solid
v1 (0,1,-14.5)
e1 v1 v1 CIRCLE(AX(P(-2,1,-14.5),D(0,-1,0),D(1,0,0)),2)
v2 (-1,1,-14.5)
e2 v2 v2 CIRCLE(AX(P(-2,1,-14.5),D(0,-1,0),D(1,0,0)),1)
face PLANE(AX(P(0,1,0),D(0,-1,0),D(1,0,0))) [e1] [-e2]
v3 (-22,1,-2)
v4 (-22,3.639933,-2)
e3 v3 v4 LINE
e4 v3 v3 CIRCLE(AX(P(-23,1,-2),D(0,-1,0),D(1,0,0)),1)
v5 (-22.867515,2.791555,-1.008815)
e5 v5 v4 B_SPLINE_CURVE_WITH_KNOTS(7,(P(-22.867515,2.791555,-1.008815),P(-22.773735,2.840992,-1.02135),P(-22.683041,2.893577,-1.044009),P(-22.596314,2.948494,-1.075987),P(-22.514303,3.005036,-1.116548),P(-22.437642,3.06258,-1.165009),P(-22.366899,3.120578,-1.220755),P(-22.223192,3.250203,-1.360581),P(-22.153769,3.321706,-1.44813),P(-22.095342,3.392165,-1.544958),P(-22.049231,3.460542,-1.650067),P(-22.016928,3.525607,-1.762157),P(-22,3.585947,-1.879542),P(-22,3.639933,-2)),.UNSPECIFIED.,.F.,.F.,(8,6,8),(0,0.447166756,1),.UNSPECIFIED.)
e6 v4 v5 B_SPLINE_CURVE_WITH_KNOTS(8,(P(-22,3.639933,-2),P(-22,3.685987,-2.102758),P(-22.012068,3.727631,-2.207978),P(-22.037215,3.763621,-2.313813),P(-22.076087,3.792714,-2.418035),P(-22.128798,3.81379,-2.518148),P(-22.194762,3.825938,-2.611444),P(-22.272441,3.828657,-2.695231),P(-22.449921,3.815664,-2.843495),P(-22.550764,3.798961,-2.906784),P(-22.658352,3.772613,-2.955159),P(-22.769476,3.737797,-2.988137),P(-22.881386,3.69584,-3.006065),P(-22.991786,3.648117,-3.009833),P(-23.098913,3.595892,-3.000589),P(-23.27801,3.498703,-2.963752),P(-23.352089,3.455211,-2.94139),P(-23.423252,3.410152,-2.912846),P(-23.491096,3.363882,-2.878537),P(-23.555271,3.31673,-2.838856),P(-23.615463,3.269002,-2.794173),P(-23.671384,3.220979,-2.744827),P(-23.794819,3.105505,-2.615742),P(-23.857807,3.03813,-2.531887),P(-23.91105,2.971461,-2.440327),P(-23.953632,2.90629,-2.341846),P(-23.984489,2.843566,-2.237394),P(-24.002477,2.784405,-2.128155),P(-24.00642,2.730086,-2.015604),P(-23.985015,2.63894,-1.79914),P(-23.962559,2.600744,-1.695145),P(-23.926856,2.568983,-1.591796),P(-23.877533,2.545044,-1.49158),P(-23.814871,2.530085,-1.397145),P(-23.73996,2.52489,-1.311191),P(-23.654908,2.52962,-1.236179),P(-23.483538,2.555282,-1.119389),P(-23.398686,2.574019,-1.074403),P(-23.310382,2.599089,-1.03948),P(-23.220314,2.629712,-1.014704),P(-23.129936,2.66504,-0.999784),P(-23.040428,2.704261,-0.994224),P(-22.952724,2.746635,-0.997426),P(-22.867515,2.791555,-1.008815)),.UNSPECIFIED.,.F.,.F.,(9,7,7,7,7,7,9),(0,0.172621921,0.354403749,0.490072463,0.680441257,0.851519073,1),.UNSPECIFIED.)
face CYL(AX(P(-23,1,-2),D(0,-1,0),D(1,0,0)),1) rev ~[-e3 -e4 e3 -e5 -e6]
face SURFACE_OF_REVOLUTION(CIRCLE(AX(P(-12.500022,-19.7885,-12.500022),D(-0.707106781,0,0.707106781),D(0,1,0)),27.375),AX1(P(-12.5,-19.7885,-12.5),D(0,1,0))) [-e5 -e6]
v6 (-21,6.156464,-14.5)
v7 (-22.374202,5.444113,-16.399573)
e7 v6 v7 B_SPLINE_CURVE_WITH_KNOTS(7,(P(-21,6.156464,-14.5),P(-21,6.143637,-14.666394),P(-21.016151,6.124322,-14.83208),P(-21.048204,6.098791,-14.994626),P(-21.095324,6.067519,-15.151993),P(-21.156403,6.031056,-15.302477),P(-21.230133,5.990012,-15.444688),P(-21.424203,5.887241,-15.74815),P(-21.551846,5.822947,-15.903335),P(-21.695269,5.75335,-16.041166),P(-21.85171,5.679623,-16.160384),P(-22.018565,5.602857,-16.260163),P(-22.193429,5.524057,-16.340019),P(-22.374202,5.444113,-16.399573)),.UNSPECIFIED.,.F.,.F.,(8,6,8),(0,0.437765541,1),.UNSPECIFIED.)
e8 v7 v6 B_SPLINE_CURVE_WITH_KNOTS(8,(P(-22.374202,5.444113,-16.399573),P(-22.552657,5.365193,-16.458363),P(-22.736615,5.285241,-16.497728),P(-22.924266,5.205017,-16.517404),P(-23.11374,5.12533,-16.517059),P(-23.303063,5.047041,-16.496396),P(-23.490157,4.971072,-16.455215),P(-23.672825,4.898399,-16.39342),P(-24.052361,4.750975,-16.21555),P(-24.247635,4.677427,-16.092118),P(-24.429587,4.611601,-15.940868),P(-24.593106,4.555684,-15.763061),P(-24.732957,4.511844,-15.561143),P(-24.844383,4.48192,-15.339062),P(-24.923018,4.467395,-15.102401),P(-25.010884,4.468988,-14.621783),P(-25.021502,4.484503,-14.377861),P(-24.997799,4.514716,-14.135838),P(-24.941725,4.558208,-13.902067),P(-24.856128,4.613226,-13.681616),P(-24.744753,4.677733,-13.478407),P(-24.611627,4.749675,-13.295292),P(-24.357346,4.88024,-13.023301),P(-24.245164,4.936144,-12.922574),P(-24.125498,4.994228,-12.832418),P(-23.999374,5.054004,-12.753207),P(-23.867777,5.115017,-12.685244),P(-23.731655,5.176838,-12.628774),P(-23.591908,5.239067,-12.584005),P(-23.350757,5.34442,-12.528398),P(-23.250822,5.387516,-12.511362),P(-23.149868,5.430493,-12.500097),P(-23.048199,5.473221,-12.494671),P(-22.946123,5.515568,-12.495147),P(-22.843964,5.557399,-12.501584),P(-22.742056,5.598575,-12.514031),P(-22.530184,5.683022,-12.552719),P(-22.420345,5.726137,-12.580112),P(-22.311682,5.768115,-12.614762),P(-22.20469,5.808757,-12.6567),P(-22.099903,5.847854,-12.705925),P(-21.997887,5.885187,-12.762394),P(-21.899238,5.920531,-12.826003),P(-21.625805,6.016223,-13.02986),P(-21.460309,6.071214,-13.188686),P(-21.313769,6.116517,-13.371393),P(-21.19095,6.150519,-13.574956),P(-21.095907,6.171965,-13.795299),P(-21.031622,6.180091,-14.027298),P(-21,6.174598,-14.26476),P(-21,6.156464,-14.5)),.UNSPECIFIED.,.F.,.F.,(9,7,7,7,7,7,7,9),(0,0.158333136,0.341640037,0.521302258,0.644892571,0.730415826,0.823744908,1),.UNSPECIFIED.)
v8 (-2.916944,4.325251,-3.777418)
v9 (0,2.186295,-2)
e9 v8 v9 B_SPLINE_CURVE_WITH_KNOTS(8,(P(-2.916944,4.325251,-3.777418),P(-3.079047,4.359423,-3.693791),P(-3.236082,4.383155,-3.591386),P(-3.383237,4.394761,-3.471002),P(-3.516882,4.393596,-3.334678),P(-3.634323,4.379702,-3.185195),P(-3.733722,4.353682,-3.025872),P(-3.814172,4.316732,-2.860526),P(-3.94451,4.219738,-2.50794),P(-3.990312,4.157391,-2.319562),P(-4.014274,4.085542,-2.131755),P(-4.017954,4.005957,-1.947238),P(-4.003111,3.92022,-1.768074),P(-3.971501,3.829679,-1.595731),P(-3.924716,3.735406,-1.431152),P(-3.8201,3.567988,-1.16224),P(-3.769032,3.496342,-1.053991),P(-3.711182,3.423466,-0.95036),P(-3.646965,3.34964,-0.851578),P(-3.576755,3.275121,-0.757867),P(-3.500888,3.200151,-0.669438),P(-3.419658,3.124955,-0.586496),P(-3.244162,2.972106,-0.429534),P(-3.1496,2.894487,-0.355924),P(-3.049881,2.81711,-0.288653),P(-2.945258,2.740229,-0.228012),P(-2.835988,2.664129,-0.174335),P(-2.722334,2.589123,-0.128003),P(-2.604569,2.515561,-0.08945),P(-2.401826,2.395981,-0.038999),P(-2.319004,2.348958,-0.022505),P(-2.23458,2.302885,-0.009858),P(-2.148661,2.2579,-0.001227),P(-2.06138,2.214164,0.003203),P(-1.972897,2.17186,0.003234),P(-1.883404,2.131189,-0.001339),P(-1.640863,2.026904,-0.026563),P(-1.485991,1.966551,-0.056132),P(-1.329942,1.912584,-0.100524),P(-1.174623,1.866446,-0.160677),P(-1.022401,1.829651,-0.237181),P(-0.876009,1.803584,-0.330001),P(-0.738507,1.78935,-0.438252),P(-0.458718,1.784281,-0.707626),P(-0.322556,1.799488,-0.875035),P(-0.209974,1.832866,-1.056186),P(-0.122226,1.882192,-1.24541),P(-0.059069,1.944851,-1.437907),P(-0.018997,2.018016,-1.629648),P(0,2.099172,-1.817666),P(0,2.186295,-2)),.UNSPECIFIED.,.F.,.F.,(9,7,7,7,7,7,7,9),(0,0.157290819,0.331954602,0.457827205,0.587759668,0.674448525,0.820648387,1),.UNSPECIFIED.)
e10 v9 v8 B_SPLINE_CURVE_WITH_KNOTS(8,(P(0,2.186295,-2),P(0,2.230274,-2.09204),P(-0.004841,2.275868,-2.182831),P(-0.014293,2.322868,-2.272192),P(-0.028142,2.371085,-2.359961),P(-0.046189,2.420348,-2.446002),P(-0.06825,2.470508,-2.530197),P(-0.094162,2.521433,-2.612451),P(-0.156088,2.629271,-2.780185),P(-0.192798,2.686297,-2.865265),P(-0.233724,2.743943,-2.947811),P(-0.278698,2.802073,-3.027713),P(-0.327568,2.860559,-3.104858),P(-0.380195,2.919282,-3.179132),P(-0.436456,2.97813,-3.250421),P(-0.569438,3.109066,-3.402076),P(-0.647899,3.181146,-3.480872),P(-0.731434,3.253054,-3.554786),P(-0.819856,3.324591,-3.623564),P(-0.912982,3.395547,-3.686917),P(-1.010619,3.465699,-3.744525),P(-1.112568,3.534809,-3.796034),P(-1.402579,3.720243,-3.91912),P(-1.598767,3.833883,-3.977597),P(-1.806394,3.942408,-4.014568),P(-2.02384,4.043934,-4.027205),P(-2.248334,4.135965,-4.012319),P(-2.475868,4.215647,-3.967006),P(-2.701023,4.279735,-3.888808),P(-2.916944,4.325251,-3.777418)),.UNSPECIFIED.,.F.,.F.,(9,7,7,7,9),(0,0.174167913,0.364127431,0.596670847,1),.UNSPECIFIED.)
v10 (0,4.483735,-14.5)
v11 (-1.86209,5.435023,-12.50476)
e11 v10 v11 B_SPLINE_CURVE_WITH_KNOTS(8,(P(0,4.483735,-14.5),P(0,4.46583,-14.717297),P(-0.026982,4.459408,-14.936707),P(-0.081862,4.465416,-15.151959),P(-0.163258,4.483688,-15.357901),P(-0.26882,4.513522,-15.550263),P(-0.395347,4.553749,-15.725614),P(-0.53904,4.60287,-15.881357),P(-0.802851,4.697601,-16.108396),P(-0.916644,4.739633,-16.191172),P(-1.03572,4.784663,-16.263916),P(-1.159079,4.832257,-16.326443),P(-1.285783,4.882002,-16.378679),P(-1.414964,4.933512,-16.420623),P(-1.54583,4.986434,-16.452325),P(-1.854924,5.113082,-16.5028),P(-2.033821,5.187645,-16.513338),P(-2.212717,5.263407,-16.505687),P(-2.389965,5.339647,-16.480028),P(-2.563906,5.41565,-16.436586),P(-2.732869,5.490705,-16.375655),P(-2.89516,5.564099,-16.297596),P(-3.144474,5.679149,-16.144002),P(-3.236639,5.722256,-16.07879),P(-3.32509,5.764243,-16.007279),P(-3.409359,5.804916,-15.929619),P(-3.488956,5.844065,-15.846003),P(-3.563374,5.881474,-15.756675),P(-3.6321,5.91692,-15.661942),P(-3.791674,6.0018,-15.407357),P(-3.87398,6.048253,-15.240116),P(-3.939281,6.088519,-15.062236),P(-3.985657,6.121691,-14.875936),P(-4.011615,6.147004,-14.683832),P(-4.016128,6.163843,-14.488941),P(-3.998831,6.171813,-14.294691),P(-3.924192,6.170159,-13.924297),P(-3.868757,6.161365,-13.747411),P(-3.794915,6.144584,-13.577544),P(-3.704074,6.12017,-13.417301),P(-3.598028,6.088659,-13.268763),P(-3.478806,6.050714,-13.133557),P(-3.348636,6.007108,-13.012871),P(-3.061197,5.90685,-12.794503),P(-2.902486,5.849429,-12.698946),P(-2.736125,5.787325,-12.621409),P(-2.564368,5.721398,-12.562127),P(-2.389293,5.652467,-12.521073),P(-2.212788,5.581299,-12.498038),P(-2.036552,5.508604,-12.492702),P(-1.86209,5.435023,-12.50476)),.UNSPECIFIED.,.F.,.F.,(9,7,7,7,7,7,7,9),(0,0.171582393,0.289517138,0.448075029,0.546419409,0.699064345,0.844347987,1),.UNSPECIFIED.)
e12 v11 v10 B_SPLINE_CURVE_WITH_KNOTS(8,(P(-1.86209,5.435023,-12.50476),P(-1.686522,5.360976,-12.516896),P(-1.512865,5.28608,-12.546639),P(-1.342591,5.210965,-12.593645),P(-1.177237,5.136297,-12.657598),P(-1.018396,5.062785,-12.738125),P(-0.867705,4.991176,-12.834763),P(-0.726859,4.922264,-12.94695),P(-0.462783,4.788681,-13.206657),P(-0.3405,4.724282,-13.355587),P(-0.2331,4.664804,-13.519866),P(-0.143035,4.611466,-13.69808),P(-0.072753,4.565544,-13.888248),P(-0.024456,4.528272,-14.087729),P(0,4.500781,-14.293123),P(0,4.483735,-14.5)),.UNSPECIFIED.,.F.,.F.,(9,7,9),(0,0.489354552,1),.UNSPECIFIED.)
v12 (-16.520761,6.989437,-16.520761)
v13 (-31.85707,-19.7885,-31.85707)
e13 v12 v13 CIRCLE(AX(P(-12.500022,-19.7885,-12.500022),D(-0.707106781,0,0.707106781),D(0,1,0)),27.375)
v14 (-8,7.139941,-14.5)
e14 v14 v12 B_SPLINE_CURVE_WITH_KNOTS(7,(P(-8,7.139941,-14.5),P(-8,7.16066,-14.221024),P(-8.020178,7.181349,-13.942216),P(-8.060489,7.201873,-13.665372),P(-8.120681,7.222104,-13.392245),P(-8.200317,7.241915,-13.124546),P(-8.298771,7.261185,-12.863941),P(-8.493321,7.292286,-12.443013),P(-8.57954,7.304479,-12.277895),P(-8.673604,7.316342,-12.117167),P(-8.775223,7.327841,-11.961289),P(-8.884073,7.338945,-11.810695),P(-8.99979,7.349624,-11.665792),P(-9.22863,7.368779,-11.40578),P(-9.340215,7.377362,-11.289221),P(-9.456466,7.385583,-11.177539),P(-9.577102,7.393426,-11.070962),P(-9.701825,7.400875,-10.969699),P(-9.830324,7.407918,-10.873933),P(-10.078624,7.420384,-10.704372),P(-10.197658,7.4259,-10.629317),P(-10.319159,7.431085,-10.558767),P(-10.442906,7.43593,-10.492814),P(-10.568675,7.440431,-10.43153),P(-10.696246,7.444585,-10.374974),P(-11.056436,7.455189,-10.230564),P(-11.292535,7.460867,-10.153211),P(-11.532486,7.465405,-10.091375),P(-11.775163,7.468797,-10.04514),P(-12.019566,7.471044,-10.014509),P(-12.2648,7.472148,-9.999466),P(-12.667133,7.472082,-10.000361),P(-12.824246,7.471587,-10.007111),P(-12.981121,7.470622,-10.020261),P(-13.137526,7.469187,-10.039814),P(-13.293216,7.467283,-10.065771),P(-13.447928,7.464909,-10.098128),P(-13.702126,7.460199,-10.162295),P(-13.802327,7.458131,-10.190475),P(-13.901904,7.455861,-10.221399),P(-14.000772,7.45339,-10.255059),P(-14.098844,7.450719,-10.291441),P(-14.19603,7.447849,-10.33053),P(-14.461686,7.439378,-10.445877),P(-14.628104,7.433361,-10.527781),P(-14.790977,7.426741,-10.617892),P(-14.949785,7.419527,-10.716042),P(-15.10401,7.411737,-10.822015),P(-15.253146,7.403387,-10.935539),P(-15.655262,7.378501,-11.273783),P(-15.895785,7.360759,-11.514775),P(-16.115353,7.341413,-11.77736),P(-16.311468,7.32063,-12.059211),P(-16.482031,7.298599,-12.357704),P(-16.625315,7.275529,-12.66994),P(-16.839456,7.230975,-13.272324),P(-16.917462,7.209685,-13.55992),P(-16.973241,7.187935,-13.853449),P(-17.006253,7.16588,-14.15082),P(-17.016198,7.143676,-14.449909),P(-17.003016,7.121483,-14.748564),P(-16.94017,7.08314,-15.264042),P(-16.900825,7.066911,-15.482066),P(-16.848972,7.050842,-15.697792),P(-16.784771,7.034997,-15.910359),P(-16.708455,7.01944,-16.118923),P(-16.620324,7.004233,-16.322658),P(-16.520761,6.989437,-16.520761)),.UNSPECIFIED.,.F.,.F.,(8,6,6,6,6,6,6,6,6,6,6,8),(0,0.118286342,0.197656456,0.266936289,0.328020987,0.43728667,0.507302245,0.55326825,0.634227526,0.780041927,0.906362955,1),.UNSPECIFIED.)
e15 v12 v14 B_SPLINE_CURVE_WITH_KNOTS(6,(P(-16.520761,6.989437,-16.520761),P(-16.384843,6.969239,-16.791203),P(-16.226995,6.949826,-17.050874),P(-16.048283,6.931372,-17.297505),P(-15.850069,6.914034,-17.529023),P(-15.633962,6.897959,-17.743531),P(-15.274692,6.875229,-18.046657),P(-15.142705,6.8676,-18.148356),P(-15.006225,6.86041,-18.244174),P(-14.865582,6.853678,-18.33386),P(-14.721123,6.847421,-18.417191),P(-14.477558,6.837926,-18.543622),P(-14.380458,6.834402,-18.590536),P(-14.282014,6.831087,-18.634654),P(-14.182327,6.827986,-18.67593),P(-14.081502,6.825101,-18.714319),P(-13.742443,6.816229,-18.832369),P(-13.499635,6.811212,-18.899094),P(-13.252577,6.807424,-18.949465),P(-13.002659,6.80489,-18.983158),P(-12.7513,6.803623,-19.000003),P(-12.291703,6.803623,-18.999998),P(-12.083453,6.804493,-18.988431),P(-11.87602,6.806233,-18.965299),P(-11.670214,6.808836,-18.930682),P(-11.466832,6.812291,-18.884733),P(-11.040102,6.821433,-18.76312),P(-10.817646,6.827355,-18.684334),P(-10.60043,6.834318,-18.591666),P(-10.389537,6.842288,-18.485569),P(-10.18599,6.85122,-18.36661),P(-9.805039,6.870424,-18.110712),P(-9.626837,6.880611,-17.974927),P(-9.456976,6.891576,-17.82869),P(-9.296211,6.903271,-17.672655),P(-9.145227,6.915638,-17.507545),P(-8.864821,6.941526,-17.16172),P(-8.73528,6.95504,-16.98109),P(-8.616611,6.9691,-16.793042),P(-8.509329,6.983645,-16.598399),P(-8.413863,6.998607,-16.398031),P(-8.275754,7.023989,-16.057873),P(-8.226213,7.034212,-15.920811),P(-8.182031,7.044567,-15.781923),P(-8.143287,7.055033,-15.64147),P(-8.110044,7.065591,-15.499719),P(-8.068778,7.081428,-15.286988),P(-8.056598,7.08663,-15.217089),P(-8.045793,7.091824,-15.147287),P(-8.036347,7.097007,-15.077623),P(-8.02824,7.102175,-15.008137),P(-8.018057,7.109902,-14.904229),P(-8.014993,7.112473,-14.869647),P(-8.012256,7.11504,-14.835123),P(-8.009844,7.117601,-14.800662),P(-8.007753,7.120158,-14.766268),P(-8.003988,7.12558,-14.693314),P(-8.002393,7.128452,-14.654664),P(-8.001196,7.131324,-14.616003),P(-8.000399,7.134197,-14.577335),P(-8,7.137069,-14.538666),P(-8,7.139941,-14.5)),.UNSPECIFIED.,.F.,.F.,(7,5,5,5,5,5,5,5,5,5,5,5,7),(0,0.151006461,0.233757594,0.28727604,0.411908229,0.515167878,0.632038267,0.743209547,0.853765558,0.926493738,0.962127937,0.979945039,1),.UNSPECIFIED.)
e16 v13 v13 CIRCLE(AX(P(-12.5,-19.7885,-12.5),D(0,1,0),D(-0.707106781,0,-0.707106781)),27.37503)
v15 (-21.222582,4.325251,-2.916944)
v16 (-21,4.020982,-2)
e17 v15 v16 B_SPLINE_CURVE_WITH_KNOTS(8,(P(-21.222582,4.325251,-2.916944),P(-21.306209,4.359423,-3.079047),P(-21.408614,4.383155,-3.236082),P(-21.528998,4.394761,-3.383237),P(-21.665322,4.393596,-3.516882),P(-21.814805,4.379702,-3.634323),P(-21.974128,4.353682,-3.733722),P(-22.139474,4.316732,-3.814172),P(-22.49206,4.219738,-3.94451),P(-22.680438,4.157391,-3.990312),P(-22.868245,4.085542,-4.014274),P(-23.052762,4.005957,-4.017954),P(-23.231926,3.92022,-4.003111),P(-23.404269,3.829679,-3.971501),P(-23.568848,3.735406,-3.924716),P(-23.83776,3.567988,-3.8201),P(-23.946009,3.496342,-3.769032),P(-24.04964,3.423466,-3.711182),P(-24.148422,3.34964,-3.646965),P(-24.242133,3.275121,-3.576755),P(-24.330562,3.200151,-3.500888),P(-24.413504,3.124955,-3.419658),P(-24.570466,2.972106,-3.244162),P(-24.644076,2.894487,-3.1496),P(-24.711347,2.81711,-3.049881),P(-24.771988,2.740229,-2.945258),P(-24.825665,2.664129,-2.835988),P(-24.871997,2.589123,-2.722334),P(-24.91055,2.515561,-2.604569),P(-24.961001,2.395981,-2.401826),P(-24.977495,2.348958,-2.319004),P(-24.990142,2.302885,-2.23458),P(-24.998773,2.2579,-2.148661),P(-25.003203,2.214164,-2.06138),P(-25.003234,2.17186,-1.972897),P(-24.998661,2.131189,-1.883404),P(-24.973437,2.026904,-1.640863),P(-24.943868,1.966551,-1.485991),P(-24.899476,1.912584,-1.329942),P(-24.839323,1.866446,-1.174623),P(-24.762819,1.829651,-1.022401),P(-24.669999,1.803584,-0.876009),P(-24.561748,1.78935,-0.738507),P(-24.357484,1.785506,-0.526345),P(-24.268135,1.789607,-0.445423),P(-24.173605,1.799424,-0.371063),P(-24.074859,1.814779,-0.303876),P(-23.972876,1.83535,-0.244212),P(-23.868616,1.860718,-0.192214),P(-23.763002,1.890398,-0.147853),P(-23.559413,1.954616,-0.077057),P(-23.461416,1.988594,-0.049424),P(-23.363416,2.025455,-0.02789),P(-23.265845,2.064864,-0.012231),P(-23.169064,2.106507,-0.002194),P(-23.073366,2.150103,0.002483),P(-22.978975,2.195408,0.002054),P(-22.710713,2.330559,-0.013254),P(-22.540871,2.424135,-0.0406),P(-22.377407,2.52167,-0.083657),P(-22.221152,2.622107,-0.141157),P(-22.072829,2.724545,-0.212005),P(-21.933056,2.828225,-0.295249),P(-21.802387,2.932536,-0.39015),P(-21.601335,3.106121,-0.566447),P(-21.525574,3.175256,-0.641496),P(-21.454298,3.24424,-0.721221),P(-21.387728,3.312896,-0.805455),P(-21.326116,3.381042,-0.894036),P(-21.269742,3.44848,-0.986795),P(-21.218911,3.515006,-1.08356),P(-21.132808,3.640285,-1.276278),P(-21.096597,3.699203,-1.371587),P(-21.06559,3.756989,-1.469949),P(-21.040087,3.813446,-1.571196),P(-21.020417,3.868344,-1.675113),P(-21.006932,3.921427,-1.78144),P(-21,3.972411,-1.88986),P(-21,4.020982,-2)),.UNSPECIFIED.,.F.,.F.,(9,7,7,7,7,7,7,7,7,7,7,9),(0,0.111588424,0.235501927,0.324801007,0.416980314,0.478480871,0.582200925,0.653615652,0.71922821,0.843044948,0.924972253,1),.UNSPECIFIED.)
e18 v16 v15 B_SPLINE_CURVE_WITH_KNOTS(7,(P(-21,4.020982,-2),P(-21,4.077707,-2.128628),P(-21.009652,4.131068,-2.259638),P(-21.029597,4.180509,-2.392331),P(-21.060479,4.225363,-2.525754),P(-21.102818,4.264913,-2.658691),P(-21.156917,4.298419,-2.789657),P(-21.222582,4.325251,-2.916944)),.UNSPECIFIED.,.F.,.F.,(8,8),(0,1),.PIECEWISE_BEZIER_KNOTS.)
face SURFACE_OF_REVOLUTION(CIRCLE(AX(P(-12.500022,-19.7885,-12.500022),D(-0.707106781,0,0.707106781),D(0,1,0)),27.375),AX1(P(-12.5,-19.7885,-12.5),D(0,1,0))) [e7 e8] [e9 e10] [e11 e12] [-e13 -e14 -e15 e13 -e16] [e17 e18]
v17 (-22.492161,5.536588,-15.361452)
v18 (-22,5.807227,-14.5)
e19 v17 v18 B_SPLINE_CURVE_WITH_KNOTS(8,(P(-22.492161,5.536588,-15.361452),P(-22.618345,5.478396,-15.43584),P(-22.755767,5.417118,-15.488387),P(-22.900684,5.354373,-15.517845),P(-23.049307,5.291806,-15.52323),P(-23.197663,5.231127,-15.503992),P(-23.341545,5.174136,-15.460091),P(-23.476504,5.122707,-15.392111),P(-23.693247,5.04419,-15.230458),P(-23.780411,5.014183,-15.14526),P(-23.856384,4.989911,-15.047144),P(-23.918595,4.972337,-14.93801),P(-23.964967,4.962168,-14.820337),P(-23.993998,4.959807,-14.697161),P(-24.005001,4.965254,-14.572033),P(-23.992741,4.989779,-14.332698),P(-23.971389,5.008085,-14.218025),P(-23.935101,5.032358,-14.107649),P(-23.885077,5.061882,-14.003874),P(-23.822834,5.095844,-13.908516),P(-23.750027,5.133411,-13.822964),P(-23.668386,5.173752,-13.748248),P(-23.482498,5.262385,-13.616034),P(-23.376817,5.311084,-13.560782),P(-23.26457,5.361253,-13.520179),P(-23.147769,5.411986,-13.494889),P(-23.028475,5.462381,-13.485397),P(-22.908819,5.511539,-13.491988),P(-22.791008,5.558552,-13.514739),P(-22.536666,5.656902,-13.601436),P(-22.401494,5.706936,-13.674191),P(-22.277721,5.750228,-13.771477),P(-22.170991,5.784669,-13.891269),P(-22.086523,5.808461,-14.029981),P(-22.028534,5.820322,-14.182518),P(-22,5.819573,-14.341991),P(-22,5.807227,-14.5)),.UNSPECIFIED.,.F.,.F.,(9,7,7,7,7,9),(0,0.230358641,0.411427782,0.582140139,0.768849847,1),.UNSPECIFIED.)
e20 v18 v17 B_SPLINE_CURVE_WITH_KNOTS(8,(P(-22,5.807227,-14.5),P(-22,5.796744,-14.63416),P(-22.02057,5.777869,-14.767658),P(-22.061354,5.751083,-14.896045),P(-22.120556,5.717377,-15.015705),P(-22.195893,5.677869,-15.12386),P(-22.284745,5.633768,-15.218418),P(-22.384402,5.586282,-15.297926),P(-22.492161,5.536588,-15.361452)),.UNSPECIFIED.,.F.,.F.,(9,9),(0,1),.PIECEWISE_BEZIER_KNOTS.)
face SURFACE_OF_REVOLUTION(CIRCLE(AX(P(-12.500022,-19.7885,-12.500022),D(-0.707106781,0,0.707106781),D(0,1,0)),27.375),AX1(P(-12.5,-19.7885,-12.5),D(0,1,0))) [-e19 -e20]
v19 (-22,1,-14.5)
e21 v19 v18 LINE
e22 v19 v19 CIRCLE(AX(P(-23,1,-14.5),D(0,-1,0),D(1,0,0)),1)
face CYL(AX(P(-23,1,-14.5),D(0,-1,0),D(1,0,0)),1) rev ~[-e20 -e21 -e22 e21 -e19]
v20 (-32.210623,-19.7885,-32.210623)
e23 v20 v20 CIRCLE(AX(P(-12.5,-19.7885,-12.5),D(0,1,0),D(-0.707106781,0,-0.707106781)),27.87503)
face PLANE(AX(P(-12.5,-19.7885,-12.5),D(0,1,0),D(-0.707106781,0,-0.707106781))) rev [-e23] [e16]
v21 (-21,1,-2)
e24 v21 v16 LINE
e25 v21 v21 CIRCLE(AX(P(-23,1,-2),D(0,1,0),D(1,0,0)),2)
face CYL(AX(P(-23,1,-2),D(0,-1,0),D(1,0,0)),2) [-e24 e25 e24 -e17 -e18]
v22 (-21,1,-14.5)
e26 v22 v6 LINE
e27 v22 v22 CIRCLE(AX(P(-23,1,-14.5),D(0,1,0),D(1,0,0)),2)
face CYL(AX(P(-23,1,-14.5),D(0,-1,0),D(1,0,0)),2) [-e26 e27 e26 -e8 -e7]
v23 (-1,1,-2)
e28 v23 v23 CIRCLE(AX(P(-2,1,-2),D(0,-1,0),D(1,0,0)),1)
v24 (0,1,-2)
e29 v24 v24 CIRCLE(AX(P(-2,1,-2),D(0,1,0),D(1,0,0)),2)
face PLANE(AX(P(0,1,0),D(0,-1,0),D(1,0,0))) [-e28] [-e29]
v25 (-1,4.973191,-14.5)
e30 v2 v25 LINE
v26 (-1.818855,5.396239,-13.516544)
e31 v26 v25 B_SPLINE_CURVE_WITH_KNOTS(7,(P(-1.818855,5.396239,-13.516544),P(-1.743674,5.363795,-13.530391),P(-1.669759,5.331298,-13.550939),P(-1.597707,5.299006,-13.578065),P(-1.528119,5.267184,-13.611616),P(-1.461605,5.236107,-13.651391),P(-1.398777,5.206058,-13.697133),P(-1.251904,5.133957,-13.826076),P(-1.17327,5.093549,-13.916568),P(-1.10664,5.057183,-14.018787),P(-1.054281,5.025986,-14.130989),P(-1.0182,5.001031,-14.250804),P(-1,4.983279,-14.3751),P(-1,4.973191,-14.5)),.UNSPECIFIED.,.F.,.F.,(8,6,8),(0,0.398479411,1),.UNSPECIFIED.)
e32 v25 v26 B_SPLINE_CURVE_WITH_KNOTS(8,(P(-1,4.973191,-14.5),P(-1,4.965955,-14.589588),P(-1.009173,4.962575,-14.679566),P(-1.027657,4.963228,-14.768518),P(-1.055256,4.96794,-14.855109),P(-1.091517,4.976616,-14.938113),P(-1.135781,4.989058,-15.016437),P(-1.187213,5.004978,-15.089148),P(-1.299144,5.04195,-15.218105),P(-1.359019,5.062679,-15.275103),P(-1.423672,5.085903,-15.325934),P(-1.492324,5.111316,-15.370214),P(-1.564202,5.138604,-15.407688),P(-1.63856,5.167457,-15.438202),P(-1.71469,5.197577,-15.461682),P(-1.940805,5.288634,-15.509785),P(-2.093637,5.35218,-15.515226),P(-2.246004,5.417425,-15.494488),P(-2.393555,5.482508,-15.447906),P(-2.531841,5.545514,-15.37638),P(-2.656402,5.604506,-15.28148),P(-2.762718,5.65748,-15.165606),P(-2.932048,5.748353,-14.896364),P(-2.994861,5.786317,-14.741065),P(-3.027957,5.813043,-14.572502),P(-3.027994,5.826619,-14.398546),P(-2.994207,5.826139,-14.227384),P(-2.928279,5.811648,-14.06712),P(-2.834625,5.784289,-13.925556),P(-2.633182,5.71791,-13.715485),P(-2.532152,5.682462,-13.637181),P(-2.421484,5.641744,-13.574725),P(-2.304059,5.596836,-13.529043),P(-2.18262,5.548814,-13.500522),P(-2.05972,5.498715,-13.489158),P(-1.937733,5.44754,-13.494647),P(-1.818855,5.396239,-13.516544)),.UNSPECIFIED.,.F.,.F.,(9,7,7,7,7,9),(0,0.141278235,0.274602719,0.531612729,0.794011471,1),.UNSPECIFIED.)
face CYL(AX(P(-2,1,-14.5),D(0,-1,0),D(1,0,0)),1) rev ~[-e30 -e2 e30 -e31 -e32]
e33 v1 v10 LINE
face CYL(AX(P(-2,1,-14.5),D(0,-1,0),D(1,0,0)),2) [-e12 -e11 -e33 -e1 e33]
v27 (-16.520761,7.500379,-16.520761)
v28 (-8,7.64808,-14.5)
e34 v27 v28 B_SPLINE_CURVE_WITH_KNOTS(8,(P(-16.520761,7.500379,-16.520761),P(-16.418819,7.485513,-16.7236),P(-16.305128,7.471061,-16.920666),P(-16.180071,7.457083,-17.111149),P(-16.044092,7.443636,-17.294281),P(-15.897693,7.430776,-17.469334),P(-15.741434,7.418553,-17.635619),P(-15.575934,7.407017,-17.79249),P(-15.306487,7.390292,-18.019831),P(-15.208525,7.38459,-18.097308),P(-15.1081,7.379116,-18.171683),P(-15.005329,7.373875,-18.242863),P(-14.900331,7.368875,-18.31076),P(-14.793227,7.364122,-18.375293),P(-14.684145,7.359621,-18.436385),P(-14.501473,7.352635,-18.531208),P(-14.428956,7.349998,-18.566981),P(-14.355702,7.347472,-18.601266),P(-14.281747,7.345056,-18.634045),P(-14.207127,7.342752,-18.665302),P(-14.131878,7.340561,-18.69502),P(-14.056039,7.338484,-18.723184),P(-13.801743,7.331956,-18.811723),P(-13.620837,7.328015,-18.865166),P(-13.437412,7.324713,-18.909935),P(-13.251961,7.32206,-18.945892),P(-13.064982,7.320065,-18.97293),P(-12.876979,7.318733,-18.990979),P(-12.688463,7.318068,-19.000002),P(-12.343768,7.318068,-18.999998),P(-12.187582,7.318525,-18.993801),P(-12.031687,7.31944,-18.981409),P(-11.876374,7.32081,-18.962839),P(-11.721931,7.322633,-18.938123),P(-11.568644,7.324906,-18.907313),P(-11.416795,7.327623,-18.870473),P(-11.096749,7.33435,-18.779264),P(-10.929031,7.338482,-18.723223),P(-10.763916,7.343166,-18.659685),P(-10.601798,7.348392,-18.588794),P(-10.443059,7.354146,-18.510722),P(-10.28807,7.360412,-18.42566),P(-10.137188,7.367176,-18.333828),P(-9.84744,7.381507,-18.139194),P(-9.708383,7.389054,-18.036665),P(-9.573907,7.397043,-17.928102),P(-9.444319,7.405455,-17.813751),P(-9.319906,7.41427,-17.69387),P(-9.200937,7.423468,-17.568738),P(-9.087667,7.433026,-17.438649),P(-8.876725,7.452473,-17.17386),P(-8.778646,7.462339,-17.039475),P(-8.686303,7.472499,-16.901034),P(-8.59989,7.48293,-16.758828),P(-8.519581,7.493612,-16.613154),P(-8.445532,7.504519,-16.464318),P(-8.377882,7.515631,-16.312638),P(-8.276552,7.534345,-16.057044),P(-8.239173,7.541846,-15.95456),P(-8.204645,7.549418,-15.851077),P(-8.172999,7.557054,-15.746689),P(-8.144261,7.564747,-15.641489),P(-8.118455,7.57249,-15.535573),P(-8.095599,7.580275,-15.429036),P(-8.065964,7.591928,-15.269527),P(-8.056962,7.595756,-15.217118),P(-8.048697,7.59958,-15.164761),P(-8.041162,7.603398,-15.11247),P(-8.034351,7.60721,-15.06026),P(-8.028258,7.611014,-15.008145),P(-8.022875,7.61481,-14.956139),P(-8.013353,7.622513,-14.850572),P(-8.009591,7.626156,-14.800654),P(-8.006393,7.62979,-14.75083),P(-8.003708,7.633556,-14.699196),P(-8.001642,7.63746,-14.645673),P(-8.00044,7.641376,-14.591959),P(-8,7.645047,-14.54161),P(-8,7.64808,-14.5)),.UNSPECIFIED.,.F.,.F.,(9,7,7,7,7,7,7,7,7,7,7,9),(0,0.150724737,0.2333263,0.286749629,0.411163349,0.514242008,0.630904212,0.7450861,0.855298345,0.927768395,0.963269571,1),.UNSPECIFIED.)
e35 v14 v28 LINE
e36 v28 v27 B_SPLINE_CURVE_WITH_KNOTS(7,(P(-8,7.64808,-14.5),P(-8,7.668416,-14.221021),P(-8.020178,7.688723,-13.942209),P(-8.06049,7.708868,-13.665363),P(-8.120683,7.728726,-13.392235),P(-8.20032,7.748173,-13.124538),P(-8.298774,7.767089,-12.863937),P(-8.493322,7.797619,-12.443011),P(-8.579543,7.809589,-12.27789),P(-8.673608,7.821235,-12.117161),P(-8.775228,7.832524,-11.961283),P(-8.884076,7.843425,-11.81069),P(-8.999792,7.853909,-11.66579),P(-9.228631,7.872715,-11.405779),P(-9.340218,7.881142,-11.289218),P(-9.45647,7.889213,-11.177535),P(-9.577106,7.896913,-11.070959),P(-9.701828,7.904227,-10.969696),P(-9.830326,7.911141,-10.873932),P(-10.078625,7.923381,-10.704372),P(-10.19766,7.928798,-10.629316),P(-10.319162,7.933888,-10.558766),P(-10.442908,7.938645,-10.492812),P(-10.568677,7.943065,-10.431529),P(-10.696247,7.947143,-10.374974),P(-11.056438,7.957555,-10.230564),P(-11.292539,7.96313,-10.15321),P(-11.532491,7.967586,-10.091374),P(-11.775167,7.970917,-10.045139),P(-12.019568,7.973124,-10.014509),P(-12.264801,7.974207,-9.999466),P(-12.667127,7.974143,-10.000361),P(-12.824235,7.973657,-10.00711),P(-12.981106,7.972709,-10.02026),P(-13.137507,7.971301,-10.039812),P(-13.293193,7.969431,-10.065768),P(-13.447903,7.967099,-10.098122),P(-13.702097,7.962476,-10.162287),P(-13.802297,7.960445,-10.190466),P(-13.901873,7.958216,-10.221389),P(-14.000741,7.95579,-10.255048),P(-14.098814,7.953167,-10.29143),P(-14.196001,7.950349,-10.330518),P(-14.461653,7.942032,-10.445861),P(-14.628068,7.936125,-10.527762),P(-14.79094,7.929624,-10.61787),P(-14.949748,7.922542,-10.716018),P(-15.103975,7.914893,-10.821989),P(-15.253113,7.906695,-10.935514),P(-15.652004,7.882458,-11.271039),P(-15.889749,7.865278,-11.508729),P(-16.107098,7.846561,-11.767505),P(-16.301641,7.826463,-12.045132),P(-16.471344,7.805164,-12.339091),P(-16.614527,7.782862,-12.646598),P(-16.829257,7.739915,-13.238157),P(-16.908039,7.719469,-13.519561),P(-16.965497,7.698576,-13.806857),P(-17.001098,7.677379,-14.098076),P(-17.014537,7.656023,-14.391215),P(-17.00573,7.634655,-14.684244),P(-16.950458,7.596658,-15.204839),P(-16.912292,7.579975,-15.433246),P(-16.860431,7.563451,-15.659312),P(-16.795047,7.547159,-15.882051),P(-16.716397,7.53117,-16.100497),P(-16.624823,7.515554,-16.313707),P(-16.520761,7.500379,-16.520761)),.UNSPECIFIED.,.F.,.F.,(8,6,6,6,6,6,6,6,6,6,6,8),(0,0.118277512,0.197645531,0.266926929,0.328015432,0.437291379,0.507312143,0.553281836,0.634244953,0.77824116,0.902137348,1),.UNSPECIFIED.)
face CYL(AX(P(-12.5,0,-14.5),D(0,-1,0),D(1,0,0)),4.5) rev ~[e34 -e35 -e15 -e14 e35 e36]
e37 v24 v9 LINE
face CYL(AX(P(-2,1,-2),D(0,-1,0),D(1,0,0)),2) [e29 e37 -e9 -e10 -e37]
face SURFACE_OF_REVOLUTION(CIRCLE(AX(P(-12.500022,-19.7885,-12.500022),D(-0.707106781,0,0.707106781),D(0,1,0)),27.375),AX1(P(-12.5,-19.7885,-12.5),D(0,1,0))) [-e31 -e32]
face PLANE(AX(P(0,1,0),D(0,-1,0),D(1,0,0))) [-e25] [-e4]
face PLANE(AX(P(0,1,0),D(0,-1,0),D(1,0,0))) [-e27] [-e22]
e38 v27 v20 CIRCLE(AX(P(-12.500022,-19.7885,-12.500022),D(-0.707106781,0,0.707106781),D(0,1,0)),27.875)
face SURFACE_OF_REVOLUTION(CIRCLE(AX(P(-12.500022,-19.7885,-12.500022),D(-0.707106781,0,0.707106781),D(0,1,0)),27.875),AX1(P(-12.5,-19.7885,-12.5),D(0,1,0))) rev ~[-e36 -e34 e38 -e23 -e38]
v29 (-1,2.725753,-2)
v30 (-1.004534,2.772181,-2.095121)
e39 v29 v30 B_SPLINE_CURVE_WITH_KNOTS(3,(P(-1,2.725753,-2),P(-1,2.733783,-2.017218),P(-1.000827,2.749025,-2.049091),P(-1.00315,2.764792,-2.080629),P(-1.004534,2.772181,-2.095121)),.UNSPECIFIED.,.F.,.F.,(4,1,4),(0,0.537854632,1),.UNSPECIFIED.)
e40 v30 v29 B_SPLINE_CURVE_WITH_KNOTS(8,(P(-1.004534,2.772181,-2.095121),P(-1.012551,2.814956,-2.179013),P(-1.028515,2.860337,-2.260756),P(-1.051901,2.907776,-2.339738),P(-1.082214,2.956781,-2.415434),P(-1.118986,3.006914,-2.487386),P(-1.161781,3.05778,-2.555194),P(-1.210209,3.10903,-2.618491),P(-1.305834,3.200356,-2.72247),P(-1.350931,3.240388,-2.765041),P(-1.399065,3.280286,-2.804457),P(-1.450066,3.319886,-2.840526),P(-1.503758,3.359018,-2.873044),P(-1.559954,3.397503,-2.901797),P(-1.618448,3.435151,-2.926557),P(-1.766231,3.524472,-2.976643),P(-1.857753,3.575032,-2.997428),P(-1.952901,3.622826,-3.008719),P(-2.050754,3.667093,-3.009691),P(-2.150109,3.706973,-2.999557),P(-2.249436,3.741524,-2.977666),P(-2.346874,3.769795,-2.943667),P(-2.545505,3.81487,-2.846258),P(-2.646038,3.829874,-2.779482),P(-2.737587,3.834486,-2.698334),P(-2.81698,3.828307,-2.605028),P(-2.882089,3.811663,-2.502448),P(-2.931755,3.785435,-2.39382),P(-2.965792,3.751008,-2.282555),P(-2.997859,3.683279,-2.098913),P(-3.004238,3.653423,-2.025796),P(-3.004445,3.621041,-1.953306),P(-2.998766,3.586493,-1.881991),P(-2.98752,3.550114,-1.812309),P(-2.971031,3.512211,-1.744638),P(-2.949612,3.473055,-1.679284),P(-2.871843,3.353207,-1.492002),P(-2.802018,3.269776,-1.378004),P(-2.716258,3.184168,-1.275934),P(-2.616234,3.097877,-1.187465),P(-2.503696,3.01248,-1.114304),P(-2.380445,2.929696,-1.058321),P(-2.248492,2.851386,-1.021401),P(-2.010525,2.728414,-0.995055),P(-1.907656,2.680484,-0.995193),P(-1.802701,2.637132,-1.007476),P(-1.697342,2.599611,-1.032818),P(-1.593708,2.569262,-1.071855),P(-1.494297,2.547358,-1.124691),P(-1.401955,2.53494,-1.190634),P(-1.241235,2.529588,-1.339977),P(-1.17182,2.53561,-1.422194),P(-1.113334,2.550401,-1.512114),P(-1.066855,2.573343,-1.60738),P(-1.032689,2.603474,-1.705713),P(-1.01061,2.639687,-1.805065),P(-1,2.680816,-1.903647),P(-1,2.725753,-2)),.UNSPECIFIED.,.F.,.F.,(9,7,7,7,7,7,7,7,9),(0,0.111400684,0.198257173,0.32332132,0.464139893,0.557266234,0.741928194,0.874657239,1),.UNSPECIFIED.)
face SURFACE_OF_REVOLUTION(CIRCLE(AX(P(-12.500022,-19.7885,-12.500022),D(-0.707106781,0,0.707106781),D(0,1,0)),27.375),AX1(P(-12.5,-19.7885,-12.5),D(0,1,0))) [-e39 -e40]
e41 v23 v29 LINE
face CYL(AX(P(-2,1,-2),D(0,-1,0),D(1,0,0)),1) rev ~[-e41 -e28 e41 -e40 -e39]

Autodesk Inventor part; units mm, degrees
ref_plane "YZ Plane" through (0, 0, 0) normal (1, 0, 0) x (0, 1, 0)
sketch "Sketch1" plane through (0, 0, 0) normal (0, 1, 0) x (-1, 0, 0)
  line L0 (0, 0) -> (25, 0)
  line L1 (25, 0) -> (25, -25)
  line L2 (25, -25) -> (0, -25)
  line L3 (0, -25) -> (0, 0)
  circle A0 centre (12.5, -12.5) radius 17.6777
  circle A1 centre (12.5, -12.5) radius 21.86
  dimension "d0" = 25
  dimension "d1" = 25
  dimension "d2" = 43.72
extrude "Extrusion1" add sketch "Sketch1" along normal blind 1 contours L0 L1 L2 L3
ref_plane "Work Plane2" through (0, 0, 0) normal (-0.7071, 0, 0.7071) x (0, 1, 0)
sketch "Sketch3" plane through (0, 0, 0) normal (-0.7071, 0, 0.7071) x (0, 1, 0)
  line L0 (1, 0) -> (1, 17.6777) projected
  line L1 (1, 17.6777) -> (1, 35.3553) projected
  line L2 (1, 17.6777) -> (7.5, 17.6777) construction
  arc A0 (1, 0) -> (1, 35.3553) centre (-19.7885, 17.6777) ccw construction
  circle A1 centre (-19.7885, 17.6777) radius 27.375 construction
  circle A2 centre (-19.7885, 17.6777) radius 27.375
  circle A3 centre (-19.7885, 17.6777) radius 27.875
  line L3 (7.5, 17.6777) -> (8.0865, 17.6777)
  line L4 (-19.7885, 45.0527) -> (-19.7885, 45.5527)
  line L5 (-19.7885, 17.6777) -> (-5.3263, 17.6777)
  line L6 (-19.7885, 17.6777) -> (-19.7885, 45.0527)
  point P0 (0, 0)
  point P1 (7.5865, 17.6777)
  dimension "d10" = 6.5
  dimension "d11" = 54.75
  dimension "d12" = 55.75
revolve "Revolution1" add sketch "Sketch3" angle 360 about axis through (-12.5, -19.7885, -12.5) along (0, 1, 0) picked at (-9.7302, 43.3292) contours A2 L4 A3 L3
ref_plane "Work Plane3" through (0, 1, 0) normal (0, -1, 0) x (1, 0, 0)
sketch "Sketch4" plane through (0, 1, 0) normal (0, -1, 0) x (1, 0, 0)
  line L0 (0, -25) -> (-25, -25) construction
  line L1 (0, 0) -> (0, -25) construction
  line L2 (-25, 0) -> (0, 0) construction
  line L3 (-25, -25) -> (-25, 0) construction
  line L4 (-25, 0) -> (-23, 0) construction
  line L5 (-23, 0) -> (-23, -2) construction
  line L6 (-23, -2) -> (-25, -2) construction
  line L7 (-25, -2) -> (-25, 0) construction
  line L8 (0, 0) -> (-2, 0) construction
  line L9 (-2, 0) -> (-2, -2) construction
  line L10 (-2, -2) -> (0, -2) construction
  line L11 (0, -2) -> (0, 0) construction
  circle A0 centre (-23, -2) radius 1 construction
  circle A1 centre (-23, -2) radius 1
  circle A2 centre (-23, -2) radius 2
  circle A3 centre (-2, -2) radius 1
  circle A4 centre (-2, -2) radius 2
  line L12 (-25, 0) -> (-23, 0) construction
  line L13 (-23, 0) -> (-23, -14.5) construction
  line L14 (-23, -14.5) -> (-25, -14.5) construction
  line L15 (-25, -14.5) -> (-25, 0) construction
  line L16 (0, 0) -> (-2, 0) construction
  line L17 (-2, 0) -> (-2, -14.5) construction
  line L18 (-2, -14.5) -> (0, -14.5) construction
  line L19 (0, -14.5) -> (0, 0) construction
  circle A5 centre (-23, -14.5) radius 1
  circle A6 centre (-2, -14.5) radius 1
  circle A7 centre (-23, -14.5) radius 2
  circle A8 centre (-2, -14.5) radius 2
  dimension "d15" = 2
  dimension "d16" = 2
  dimension "d17" = 2
  dimension "d18" = 2
  dimension "d19" = 2
  dimension "d20" = 4
  dimension "d21" = 2
  dimension "d22" = 4
  dimension "d23" = 2
  dimension "d24" = 14.5
  dimension "d25" = 2
  dimension "d26" = 14.5
  dimension "d27" = 2
  dimension "d28" = 2
  dimension "d29" = 4
  dimension "d30" = 4
extrude "Extrusion2" add sketch "Sketch4" against normal up to surface
sketch "Sketch5" plane through (0, 0, 0) normal (0, -1, 0) x (1, 0, 0)
  line L0 (0, -25) -> (-25, -25) construction
  line L1 (0, 0) -> (0, -25) construction
  line L2 (-25, 0) -> (0, 0) construction
  line L3 (-25, -25) -> (-25, 0) construction
  line L4 (-12.5, 0) -> (-12.5, -14.5) construction
  circle A0 centre (-12.5, -14.5) radius 4.5
  dimension "d33" = 14.5
  dimension "d34" = 9
extrude "Extrusion3" cut sketch "Sketch5" against normal blind 10
sketch "Sketch6" plane through (0, 0, 0) normal (0, -1, 0) x (1, 0, 0)
  circle A0 centre (-12.5, -14.5) radius 4.5 projected
  line L0 (0, -25) -> (-25, -25) projected
  line L1 (0, 0) -> (0, -25) projected
  line L2 (-25, 0) -> (0, 0) projected
  line L3 (-25, -25) -> (-25, 0) projected
extrude "Extrusion4" cut sketch "Sketch6" against normal blind 1
properties part number "Ball"
